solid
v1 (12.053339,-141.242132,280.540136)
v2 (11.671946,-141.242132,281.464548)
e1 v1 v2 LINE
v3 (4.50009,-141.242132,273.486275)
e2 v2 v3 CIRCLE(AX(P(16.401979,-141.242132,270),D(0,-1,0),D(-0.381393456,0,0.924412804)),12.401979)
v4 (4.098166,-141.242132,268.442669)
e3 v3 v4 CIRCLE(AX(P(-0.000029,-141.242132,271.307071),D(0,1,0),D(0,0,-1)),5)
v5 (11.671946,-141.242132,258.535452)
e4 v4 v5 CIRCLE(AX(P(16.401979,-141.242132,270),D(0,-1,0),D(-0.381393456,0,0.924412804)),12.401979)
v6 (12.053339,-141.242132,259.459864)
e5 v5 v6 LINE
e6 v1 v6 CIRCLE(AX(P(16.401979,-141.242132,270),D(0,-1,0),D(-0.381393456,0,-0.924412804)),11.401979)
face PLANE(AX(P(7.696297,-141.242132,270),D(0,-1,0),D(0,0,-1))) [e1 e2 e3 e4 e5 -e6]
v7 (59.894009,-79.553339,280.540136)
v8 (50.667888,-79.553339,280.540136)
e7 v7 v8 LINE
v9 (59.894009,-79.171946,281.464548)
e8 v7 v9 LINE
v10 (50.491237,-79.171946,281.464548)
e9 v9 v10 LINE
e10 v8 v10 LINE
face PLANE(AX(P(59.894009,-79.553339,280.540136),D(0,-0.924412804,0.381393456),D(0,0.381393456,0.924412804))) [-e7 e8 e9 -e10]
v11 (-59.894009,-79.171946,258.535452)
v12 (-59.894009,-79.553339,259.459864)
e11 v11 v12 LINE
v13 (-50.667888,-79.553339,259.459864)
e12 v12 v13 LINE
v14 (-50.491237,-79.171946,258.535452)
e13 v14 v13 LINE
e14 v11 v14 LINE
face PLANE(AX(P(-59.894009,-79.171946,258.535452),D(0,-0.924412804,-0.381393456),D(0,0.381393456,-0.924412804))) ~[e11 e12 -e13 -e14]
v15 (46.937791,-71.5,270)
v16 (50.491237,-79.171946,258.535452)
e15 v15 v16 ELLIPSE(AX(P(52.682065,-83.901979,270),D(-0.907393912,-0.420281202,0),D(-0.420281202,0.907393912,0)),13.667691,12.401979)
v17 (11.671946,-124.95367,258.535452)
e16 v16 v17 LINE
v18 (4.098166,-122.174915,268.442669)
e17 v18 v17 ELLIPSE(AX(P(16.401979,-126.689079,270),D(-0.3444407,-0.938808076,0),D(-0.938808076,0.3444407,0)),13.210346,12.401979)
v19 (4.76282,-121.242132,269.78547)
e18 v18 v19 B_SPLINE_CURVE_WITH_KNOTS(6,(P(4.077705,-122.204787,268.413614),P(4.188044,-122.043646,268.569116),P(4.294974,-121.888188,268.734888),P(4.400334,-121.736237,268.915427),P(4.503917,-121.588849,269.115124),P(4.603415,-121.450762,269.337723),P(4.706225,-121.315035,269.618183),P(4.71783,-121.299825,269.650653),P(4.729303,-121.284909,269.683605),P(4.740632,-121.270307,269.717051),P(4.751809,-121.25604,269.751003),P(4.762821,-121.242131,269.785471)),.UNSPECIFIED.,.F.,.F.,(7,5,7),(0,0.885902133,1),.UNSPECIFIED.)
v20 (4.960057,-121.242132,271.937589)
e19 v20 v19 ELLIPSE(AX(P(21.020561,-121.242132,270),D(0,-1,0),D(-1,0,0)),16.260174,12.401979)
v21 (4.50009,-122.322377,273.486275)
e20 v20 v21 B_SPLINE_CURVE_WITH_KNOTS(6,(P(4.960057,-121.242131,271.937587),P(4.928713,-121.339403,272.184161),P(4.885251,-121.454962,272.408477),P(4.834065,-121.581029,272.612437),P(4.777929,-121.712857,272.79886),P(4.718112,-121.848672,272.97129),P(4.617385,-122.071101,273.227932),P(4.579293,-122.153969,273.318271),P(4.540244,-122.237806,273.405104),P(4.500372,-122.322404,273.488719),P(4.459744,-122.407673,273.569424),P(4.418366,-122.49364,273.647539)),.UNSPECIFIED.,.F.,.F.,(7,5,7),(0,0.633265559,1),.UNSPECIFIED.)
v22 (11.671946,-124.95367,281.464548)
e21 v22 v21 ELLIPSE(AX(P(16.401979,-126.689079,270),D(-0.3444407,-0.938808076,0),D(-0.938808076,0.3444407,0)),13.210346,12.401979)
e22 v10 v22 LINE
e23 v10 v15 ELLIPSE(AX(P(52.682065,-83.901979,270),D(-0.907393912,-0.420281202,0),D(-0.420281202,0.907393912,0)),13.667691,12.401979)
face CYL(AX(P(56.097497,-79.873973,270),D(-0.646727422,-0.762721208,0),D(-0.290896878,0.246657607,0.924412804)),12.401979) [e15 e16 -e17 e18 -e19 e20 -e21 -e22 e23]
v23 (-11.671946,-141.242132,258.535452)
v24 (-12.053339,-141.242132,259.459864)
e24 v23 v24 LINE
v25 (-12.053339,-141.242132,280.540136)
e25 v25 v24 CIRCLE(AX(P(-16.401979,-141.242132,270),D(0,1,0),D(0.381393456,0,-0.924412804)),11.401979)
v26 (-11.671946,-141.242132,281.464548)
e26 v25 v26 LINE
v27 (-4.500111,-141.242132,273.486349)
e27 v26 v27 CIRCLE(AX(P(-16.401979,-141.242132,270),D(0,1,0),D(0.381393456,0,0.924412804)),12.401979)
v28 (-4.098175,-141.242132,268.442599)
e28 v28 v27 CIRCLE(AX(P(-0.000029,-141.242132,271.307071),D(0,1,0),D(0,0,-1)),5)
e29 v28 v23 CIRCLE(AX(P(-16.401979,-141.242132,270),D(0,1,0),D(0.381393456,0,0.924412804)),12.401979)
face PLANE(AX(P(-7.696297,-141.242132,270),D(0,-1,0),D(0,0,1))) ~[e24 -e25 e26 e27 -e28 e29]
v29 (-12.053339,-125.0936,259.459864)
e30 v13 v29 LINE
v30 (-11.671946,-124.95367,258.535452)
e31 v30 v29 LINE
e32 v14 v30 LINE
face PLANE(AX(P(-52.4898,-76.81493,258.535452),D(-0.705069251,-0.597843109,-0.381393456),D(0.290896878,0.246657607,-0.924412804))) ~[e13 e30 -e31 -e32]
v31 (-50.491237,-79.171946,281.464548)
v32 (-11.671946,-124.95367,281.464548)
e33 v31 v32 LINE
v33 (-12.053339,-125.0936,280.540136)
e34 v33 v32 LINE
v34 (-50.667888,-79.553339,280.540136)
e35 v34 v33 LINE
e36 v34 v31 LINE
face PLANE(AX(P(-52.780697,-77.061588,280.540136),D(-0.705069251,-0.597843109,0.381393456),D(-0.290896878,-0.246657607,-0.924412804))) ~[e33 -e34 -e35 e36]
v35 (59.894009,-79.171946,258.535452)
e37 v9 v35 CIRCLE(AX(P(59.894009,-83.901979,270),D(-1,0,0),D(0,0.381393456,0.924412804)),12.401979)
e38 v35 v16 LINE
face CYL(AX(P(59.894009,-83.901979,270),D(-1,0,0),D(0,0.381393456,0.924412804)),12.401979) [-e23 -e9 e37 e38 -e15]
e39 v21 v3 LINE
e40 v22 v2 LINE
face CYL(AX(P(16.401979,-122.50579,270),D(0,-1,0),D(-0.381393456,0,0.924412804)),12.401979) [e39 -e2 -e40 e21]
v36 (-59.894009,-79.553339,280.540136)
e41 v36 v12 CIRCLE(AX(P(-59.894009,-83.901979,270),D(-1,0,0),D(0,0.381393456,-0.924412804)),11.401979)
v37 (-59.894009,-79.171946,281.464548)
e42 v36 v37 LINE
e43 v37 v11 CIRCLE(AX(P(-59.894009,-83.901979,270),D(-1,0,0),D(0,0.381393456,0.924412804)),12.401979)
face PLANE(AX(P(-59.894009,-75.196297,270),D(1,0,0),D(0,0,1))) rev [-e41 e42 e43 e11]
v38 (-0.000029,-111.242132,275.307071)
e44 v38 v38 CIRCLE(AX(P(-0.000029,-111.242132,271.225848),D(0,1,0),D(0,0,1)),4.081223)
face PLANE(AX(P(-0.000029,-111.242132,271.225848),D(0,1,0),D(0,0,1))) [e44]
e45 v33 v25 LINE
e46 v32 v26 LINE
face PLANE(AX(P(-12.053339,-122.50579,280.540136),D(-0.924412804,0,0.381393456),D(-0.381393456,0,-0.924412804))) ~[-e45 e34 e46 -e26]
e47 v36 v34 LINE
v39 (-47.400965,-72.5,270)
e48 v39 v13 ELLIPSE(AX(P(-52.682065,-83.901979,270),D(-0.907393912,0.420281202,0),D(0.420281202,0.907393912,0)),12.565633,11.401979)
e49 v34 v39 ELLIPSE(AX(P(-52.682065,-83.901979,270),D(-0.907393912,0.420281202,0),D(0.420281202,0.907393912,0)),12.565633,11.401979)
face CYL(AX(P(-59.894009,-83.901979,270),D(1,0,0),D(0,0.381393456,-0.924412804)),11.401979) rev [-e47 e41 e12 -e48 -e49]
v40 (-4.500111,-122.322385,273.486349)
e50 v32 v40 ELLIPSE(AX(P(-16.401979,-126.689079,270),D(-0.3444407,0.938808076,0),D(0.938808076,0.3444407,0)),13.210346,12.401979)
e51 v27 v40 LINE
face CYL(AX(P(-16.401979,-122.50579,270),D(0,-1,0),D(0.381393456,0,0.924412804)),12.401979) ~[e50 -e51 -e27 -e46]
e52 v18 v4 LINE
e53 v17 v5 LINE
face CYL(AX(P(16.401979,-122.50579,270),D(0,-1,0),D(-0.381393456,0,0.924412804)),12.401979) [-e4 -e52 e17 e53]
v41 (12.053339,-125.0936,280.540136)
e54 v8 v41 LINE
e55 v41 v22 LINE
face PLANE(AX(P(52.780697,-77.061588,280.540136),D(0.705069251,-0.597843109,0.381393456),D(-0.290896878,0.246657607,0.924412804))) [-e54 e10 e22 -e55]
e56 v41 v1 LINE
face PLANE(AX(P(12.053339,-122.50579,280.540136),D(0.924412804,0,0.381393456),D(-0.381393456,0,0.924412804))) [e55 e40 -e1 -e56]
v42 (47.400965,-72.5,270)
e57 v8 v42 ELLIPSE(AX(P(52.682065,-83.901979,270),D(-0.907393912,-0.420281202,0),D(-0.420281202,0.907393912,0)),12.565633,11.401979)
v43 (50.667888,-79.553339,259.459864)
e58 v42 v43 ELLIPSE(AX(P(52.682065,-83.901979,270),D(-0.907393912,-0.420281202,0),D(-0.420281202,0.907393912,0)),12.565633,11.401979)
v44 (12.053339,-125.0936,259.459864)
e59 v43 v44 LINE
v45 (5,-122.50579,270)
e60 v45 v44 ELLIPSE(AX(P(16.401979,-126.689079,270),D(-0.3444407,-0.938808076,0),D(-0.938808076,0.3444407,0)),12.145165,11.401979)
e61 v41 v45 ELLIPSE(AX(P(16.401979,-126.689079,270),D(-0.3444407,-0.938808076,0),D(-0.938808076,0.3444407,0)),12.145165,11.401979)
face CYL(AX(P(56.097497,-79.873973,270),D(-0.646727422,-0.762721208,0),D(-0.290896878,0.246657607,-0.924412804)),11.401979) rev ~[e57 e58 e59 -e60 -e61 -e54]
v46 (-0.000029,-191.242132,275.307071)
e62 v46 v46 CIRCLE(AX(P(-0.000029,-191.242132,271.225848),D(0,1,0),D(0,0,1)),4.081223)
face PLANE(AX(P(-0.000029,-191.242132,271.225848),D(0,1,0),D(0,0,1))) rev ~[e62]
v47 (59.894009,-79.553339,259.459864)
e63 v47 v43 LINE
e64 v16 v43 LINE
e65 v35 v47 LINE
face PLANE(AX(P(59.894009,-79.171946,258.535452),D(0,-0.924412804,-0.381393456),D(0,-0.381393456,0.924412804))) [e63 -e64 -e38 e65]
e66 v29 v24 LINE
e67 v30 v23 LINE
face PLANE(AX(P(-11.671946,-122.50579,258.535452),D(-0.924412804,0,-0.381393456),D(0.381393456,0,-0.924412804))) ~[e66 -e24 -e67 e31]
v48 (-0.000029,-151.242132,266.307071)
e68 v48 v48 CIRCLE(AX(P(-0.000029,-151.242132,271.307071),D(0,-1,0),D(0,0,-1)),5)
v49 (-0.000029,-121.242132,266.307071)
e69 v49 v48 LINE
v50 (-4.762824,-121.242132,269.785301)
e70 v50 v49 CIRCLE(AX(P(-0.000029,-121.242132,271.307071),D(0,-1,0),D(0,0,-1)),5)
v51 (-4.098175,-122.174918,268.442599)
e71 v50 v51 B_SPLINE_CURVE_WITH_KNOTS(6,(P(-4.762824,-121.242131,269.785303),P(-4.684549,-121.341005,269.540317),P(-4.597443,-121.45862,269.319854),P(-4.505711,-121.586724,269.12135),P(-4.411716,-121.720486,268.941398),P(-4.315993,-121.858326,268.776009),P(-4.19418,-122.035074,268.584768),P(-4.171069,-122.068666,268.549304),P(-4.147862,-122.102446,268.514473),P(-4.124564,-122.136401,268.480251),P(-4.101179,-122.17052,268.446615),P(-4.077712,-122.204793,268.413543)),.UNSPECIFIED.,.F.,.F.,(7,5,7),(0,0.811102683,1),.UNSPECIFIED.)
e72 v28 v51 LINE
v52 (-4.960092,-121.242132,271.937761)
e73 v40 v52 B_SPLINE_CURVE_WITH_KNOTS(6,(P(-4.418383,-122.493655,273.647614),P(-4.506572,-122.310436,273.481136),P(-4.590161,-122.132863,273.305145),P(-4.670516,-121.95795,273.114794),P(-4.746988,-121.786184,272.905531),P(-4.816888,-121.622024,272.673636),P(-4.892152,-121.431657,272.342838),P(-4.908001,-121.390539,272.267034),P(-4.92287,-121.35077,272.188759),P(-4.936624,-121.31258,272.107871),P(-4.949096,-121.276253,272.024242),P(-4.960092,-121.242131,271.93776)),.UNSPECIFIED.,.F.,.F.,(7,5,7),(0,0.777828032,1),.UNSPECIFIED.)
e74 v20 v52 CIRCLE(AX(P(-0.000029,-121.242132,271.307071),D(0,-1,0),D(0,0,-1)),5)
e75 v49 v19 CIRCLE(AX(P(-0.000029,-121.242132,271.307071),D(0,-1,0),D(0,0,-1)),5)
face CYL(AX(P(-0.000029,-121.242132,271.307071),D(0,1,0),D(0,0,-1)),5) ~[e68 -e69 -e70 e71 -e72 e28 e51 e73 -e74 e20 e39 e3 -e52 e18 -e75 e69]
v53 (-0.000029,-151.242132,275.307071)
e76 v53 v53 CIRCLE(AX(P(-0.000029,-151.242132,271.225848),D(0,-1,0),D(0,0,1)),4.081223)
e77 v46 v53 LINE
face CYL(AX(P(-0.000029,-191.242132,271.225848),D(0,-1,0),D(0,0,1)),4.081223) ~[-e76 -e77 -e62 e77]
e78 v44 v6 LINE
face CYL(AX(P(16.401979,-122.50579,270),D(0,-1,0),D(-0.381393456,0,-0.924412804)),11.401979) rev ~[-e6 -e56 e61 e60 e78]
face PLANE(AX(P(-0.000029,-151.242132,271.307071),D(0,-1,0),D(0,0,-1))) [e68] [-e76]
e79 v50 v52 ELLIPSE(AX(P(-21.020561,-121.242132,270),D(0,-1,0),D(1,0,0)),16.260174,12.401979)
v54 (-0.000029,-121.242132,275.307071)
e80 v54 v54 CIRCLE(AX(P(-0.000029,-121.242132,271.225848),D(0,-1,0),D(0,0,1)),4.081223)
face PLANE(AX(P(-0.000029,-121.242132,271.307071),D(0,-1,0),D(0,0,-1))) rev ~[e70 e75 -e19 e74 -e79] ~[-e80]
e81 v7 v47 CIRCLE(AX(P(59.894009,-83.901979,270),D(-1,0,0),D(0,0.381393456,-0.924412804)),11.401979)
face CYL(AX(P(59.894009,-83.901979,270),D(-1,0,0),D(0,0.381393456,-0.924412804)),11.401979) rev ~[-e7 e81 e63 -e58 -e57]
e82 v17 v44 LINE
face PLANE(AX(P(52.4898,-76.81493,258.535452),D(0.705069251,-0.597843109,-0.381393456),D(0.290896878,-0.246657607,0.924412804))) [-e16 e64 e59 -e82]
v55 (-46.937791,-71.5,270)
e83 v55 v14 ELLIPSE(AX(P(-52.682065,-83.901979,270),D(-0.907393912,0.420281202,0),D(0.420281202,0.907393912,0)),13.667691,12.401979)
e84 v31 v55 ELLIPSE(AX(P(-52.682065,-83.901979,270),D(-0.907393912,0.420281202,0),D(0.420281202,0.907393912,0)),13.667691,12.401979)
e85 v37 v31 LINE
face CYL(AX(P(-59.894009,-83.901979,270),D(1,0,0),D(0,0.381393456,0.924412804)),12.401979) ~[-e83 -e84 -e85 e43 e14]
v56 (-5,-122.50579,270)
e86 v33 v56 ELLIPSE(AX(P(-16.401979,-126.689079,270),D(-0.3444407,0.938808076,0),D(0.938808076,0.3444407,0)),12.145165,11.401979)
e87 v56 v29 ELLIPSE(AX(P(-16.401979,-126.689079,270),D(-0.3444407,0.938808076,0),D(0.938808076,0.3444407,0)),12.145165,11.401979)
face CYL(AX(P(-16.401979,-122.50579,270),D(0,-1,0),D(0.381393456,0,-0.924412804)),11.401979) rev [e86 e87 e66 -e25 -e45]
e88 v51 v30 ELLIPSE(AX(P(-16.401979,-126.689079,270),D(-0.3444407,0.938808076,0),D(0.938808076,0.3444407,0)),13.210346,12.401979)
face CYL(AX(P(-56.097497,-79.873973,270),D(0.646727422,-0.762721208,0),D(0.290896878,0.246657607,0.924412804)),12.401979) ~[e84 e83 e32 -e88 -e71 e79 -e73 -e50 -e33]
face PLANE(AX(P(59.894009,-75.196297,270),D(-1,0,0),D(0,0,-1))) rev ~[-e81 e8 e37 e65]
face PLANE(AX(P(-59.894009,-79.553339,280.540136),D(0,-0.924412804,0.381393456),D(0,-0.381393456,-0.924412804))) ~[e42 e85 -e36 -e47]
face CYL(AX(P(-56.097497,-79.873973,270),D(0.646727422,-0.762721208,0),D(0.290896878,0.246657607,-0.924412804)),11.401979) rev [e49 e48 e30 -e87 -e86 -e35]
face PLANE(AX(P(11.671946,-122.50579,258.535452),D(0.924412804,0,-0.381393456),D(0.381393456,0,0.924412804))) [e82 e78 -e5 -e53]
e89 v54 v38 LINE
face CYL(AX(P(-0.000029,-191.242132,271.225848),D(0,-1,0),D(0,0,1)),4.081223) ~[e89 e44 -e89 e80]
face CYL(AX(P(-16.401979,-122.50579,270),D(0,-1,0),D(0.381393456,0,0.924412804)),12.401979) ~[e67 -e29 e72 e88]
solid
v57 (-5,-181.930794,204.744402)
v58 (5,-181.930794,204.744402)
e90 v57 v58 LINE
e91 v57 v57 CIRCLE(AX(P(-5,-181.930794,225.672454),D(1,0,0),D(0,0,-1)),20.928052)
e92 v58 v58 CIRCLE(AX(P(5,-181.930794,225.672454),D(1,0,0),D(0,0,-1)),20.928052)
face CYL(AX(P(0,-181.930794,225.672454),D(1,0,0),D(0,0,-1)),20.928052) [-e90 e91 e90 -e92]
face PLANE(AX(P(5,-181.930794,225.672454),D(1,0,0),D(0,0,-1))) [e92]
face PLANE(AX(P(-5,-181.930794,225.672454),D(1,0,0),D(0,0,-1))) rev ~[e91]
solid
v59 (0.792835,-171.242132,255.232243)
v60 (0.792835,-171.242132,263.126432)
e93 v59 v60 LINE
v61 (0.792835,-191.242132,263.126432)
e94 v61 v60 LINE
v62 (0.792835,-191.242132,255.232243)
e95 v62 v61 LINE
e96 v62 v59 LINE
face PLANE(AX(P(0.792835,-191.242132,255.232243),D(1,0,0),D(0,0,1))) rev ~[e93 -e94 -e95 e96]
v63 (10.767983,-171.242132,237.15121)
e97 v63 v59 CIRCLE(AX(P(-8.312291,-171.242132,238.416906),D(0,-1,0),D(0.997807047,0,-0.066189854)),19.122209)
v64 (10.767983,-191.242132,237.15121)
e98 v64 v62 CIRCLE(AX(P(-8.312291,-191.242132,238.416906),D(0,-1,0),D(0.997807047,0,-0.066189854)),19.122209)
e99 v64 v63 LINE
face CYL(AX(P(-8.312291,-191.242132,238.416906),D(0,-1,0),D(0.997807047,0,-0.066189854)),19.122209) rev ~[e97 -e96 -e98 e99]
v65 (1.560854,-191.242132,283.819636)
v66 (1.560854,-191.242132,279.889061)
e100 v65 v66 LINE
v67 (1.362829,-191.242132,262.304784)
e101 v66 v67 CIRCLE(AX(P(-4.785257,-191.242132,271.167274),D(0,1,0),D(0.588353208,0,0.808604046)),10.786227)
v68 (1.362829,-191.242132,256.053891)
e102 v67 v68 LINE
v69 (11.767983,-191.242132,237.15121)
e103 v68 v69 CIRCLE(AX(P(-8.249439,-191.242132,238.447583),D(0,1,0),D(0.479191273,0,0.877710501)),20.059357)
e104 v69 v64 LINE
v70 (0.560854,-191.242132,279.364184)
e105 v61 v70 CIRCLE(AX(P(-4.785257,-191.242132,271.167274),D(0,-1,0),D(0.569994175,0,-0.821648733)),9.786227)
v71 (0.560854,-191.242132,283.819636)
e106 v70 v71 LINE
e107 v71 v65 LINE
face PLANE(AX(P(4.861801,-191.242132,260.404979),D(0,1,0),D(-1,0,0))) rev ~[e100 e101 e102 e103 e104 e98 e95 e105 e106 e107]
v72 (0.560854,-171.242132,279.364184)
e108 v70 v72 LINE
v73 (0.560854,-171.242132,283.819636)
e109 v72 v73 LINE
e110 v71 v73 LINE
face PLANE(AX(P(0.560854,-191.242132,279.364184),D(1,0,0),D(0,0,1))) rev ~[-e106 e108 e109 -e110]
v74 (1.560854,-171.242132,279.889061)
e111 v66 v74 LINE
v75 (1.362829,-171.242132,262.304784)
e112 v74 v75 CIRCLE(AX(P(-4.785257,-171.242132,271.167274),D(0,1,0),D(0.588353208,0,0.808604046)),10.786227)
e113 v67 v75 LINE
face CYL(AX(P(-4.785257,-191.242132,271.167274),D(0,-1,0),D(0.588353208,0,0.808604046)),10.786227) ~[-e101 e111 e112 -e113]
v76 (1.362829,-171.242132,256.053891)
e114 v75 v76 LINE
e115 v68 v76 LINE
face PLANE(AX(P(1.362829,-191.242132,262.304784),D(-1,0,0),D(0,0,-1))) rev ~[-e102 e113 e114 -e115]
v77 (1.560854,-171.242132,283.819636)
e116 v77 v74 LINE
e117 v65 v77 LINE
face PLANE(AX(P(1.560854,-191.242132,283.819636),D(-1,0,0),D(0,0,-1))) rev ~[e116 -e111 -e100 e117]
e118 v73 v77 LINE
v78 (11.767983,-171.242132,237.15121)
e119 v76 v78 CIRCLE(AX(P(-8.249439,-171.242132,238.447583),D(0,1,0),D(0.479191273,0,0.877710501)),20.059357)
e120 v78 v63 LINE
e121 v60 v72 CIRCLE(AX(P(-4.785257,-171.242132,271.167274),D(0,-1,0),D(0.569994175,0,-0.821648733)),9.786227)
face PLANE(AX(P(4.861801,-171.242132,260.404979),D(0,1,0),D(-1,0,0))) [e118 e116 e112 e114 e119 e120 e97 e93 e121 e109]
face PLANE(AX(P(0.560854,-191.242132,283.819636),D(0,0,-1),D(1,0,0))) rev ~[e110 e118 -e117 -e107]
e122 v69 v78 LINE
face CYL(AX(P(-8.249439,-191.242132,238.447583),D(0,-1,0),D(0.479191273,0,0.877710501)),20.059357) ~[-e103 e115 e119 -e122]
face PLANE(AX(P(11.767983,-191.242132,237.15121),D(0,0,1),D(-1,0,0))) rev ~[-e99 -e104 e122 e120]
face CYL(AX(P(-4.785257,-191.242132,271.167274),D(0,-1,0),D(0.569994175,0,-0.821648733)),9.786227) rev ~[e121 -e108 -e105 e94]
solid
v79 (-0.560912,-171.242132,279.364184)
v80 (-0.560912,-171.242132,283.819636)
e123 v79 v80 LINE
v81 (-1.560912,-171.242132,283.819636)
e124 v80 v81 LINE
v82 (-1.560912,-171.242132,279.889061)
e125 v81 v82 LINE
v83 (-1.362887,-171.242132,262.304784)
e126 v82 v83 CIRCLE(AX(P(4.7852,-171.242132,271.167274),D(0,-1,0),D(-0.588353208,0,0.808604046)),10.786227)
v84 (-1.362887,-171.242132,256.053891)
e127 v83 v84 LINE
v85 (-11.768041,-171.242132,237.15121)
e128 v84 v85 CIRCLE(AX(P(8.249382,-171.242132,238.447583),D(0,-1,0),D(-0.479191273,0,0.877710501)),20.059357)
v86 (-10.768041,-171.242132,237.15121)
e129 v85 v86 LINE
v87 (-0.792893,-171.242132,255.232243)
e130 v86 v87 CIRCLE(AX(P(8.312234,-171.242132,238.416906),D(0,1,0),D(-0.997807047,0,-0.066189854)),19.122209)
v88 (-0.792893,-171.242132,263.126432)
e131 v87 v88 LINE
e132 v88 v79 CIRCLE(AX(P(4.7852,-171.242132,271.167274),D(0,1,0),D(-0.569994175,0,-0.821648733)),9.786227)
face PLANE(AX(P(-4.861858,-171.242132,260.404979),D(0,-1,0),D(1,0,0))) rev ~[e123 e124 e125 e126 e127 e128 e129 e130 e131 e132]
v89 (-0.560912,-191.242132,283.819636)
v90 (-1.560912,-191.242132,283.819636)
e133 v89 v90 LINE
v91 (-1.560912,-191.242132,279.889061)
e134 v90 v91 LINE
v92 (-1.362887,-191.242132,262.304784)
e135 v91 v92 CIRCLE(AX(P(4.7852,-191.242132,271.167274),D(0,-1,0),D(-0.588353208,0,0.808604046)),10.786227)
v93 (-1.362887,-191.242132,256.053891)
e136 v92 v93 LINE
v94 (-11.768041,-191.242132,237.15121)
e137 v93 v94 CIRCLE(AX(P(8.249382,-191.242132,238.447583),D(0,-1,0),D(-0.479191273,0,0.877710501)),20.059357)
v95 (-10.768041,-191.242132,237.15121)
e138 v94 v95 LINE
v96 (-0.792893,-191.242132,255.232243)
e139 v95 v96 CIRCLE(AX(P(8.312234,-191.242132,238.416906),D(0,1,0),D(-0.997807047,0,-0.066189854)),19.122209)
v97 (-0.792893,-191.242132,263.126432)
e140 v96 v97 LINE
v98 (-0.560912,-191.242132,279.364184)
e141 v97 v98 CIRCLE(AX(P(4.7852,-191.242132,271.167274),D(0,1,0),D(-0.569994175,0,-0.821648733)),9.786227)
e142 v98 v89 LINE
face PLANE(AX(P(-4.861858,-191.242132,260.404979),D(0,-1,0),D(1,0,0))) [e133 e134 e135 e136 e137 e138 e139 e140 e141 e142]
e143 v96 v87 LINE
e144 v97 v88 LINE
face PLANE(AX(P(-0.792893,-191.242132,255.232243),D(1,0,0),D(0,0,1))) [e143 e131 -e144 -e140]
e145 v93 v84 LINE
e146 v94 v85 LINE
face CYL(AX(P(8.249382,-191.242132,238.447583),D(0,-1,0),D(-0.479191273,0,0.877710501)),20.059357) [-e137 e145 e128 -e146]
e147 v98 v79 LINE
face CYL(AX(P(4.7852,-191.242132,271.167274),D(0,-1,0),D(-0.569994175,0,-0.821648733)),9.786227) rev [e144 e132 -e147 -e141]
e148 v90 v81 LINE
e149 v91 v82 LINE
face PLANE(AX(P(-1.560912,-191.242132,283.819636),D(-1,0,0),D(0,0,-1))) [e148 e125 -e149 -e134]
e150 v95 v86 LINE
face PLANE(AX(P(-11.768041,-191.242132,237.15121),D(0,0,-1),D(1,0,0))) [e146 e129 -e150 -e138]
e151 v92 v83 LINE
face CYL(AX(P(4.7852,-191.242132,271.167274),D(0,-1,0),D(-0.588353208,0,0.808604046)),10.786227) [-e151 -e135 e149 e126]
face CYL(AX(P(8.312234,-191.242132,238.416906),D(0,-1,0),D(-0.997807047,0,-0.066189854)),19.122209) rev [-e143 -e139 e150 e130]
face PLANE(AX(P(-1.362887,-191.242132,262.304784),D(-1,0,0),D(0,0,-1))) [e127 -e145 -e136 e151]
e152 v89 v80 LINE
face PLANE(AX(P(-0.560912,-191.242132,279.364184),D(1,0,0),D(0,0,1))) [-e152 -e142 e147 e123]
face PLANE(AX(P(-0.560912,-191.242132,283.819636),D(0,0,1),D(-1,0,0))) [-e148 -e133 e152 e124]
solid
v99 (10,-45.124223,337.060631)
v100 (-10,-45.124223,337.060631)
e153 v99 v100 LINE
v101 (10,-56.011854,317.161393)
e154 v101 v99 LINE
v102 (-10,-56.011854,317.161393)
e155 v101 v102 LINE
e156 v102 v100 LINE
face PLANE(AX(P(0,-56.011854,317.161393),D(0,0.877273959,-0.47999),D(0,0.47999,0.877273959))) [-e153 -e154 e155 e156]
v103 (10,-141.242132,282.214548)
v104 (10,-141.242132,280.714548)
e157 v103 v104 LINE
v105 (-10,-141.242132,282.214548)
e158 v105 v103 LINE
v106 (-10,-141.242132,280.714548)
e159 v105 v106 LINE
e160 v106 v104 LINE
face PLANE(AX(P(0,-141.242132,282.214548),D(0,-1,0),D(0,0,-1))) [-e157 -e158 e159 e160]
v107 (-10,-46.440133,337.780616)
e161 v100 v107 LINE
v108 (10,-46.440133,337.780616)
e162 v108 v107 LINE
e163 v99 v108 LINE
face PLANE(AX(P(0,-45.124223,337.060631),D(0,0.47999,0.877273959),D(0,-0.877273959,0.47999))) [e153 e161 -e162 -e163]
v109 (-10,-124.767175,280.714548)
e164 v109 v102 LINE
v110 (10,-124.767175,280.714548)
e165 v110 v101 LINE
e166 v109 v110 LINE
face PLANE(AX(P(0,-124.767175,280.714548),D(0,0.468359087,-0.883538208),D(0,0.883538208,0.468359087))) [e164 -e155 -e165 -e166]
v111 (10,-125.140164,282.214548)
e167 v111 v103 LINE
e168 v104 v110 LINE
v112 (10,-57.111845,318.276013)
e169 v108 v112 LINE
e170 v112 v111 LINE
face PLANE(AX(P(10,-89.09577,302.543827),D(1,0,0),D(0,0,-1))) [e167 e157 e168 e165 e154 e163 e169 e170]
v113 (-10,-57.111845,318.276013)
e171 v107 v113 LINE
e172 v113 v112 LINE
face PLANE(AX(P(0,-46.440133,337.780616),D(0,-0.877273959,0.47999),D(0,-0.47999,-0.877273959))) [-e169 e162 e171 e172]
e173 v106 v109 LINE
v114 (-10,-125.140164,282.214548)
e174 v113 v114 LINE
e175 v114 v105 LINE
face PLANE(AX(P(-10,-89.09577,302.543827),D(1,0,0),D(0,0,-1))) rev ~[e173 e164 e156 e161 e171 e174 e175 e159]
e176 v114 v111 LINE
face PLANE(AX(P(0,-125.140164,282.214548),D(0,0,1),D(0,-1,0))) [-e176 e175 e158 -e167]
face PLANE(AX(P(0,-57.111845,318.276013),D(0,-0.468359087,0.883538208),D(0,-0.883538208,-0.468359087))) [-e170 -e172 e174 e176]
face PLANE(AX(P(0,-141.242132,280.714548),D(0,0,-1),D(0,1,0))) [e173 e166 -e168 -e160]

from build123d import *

# Parameters (mm, degrees)
EXTRUDE_THIN1_DEPTH      = 10
BOSS_EXTRUDE1_DEPTH      = 10
BOSS_EXTRUDE1_DEPTH_BACK = 20
SKETCH4_R                = 5
SKETCH4_R_2              = 4
BOSS_EXTRUDE2_DEPTH      = 10
BOSS_EXTRUDE2_DEPTH_BACK = 70
SKETCH5_R                = 4.081222788
BOSS_EXTRUDE3_DEPTH      = 20
BOSS_EXTRUDE3_2_DEPTH    = 20
SKETCH7_R                = 20.9280517
BOSS_EXTRUDE4_DEPTH      = 5


with BuildPart() as part:
    # Sweep1: sweep along a path in Sketch1
    with BuildLine(Plane(origin=(0, 0, 270), x_dir=(-1, 0, 0), z_dir=(0, 0, -1))) as sweep1_path:
        Line((-59.894009261, -72.5), (-47.400965294, -72.5))
        Line((-47.400965294, -72.5), (-5, -122.505789754))
        Line((-5, -122.505789754), (-5, -141.242131714))
    # Sketch2 → Sweep1 (sweep)
    with BuildSketch(Plane(origin=(59.894009261, -72.5, 270), x_dir=(0, 0, 1), z_dir=(-1, 0, 0))):
        with BuildLine():
            Line((-11.464548439, -6.671945539), (-10.540135636, -7.053338995))
            ThreePointArc((-10.540135636, -7.053338995), (0, 0), (10.540135636, -7.053338995))
            Line((10.540135636, -7.053338995), (11.464548439, -6.671945539))
            ThreePointArc((11.464548439, -6.671945539), (0, 1), (-11.464548439, -6.671945539))
        make_face()
    sweep1 = sweep(path=sweep1_path.line, transition=Transition.RIGHT)

    # Sketch4 → Boss-Extrude1 (add, two sides: drawn at the far end of the back side and taken through both)
    with BuildSketch(Plane.XZ.offset(141.242131714).offset(-BOSS_EXTRUDE1_DEPTH_BACK)):
        with Locations(Location((-2.881e-05, 271.307070621, 0), (0, 0, 270))):
            Circle(SKETCH4_R)
        with Locations(Location((-2.881e-05, 271.307070621, 0), (0, 0, 270))):
            Circle(SKETCH4_R_2, mode=Mode.SUBTRACT)
    extrude(amount=BOSS_EXTRUDE1_DEPTH + BOSS_EXTRUDE1_DEPTH_BACK)

    # Mirror1: Sweep1 across plane
    add(sweep1.mirror(Plane(origin=(0, 0, 0), x_dir=(0, 0, 1), z_dir=(1, 0, 0))))

    # Sketch5 → Boss-Extrude2 (add, two sides: drawn at the far end of the back side and taken through both)
    with BuildSketch(Plane(origin=(0, -121.242131714, 0), x_dir=(1, 0, 0), z_dir=(0, 1, 0)).offset(-BOSS_EXTRUDE2_DEPTH_BACK)):
        with Locations(Location((-2.881e-05, -271.225847833, 0), (0, 0, 270))):
            Circle(SKETCH5_R)
    extrude(amount=BOSS_EXTRUDE2_DEPTH + BOSS_EXTRUDE2_DEPTH_BACK)


with BuildPart() as body_2:
    # Sketch3 → Extrude-Thin1 (new, symmetric)
    with BuildSketch(Plane(origin=(0, 0, 0), x_dir=(0, 0, -1), z_dir=(1, 0, 0))):
        Polygon((-337.780615928, -46.440133469), (-318.276012784, -57.111844821), (-282.214548439, -125.14016423), (-282.214548439, -141.242131714), (-280.714548439, -141.242131714), (-280.714548439, -124.767175443), (-317.161393078, -56.011853562), (-337.060630928, -45.12422253), align=None)
    extrude(amount=EXTRUDE_THIN1_DEPTH, both=True)


with BuildPart() as body_3:
    # Sketch6 → Boss-Extrude3 (new body)
    with BuildSketch(Plane.XZ.offset(191.242131714)):
        with BuildLine():
            Line((-1.362886831, 262.304783722), (-1.362886831, 256.053891241))
            ThreePointArc((-1.362886831, 256.053891241), (-9.323537391, 248.120757478), (-11.768040707, 237.151209985))
            Line((-11.768040707, 237.151209985), (-10.768040707, 237.151209985))
            ThreePointArc((-10.768040707, 237.151209985), (-8.43097798, 247.653990229), (-0.792892656, 255.232242508))
            Line((-0.792892656, 255.232242508), (-0.792892656, 263.126432455))
            ThreePointArc((-0.792892656, 263.126432455), (-5.00002881, 271.307070621), (-0.560911528, 279.364183825))
            Line((-0.560911528, 279.364183825), (-0.560911528, 283.819636353))
            Line((-0.560911528, 283.819636353), (-1.560911528, 283.819636353))
            Line((-1.560911528, 283.819636353), (-1.560911528, 279.889060629))
            ThreePointArc((-1.560911528, 279.889060629), (-6.000343473, 271.045812649), (-1.362886831, 262.304783722))
        make_face()
    extrude(amount=-BOSS_EXTRUDE3_DEPTH)


with BuildPart() as body_4:
    # Sketch6 → Boss-Extrude3 2 (new body)
    with BuildSketch(Plane.XZ.offset(191.242131714)):
        with BuildLine():
            ThreePointArc((1.362829212, 256.053891241), (9.323479772, 248.120757478), (11.767983088, 237.151209985))
            Line((11.767983088, 237.151209985), (10.767983088, 237.151209985))
            ThreePointArc((10.767983088, 237.151209985), (8.430920361, 247.653990229), (0.792835037, 255.232242508))
            Line((0.792835037, 255.232242508), (0.792835037, 263.126432455))
            ThreePointArc((0.792835037, 263.126432455), (4.99997119, 271.307070621), (0.560853909, 279.364183825))
            Line((0.560853909, 279.364183825), (0.560853909, 283.819636353))
            Line((0.560853909, 283.819636353), (1.560853909, 283.819636353))
            Line((1.560853909, 283.819636353), (1.560853909, 279.889060629))
            ThreePointArc((1.560853909, 279.889060629), (6.000285854, 271.045812649), (1.362829212, 262.304783722))
            Line((1.362829212, 262.304783722), (1.362829212, 256.053891241))
        make_face()
    extrude(amount=-BOSS_EXTRUDE3_2_DEPTH)


with BuildPart() as body_5:
    # Sketch7 → Boss-Extrude4 (new, symmetric)
    with BuildSketch(Plane(origin=(0, 0, 0), x_dir=(0, 0, -1), z_dir=(1, 0, 0))):
        with Locations((-225.672454033, -181.930793774)):
            Circle(SKETCH7_R)
    extrude(amount=BOSS_EXTRUDE4_DEPTH, both=True)


solid = Compound([part.part, body_2.part, body_3.part, body_4.part, body_5.part])
